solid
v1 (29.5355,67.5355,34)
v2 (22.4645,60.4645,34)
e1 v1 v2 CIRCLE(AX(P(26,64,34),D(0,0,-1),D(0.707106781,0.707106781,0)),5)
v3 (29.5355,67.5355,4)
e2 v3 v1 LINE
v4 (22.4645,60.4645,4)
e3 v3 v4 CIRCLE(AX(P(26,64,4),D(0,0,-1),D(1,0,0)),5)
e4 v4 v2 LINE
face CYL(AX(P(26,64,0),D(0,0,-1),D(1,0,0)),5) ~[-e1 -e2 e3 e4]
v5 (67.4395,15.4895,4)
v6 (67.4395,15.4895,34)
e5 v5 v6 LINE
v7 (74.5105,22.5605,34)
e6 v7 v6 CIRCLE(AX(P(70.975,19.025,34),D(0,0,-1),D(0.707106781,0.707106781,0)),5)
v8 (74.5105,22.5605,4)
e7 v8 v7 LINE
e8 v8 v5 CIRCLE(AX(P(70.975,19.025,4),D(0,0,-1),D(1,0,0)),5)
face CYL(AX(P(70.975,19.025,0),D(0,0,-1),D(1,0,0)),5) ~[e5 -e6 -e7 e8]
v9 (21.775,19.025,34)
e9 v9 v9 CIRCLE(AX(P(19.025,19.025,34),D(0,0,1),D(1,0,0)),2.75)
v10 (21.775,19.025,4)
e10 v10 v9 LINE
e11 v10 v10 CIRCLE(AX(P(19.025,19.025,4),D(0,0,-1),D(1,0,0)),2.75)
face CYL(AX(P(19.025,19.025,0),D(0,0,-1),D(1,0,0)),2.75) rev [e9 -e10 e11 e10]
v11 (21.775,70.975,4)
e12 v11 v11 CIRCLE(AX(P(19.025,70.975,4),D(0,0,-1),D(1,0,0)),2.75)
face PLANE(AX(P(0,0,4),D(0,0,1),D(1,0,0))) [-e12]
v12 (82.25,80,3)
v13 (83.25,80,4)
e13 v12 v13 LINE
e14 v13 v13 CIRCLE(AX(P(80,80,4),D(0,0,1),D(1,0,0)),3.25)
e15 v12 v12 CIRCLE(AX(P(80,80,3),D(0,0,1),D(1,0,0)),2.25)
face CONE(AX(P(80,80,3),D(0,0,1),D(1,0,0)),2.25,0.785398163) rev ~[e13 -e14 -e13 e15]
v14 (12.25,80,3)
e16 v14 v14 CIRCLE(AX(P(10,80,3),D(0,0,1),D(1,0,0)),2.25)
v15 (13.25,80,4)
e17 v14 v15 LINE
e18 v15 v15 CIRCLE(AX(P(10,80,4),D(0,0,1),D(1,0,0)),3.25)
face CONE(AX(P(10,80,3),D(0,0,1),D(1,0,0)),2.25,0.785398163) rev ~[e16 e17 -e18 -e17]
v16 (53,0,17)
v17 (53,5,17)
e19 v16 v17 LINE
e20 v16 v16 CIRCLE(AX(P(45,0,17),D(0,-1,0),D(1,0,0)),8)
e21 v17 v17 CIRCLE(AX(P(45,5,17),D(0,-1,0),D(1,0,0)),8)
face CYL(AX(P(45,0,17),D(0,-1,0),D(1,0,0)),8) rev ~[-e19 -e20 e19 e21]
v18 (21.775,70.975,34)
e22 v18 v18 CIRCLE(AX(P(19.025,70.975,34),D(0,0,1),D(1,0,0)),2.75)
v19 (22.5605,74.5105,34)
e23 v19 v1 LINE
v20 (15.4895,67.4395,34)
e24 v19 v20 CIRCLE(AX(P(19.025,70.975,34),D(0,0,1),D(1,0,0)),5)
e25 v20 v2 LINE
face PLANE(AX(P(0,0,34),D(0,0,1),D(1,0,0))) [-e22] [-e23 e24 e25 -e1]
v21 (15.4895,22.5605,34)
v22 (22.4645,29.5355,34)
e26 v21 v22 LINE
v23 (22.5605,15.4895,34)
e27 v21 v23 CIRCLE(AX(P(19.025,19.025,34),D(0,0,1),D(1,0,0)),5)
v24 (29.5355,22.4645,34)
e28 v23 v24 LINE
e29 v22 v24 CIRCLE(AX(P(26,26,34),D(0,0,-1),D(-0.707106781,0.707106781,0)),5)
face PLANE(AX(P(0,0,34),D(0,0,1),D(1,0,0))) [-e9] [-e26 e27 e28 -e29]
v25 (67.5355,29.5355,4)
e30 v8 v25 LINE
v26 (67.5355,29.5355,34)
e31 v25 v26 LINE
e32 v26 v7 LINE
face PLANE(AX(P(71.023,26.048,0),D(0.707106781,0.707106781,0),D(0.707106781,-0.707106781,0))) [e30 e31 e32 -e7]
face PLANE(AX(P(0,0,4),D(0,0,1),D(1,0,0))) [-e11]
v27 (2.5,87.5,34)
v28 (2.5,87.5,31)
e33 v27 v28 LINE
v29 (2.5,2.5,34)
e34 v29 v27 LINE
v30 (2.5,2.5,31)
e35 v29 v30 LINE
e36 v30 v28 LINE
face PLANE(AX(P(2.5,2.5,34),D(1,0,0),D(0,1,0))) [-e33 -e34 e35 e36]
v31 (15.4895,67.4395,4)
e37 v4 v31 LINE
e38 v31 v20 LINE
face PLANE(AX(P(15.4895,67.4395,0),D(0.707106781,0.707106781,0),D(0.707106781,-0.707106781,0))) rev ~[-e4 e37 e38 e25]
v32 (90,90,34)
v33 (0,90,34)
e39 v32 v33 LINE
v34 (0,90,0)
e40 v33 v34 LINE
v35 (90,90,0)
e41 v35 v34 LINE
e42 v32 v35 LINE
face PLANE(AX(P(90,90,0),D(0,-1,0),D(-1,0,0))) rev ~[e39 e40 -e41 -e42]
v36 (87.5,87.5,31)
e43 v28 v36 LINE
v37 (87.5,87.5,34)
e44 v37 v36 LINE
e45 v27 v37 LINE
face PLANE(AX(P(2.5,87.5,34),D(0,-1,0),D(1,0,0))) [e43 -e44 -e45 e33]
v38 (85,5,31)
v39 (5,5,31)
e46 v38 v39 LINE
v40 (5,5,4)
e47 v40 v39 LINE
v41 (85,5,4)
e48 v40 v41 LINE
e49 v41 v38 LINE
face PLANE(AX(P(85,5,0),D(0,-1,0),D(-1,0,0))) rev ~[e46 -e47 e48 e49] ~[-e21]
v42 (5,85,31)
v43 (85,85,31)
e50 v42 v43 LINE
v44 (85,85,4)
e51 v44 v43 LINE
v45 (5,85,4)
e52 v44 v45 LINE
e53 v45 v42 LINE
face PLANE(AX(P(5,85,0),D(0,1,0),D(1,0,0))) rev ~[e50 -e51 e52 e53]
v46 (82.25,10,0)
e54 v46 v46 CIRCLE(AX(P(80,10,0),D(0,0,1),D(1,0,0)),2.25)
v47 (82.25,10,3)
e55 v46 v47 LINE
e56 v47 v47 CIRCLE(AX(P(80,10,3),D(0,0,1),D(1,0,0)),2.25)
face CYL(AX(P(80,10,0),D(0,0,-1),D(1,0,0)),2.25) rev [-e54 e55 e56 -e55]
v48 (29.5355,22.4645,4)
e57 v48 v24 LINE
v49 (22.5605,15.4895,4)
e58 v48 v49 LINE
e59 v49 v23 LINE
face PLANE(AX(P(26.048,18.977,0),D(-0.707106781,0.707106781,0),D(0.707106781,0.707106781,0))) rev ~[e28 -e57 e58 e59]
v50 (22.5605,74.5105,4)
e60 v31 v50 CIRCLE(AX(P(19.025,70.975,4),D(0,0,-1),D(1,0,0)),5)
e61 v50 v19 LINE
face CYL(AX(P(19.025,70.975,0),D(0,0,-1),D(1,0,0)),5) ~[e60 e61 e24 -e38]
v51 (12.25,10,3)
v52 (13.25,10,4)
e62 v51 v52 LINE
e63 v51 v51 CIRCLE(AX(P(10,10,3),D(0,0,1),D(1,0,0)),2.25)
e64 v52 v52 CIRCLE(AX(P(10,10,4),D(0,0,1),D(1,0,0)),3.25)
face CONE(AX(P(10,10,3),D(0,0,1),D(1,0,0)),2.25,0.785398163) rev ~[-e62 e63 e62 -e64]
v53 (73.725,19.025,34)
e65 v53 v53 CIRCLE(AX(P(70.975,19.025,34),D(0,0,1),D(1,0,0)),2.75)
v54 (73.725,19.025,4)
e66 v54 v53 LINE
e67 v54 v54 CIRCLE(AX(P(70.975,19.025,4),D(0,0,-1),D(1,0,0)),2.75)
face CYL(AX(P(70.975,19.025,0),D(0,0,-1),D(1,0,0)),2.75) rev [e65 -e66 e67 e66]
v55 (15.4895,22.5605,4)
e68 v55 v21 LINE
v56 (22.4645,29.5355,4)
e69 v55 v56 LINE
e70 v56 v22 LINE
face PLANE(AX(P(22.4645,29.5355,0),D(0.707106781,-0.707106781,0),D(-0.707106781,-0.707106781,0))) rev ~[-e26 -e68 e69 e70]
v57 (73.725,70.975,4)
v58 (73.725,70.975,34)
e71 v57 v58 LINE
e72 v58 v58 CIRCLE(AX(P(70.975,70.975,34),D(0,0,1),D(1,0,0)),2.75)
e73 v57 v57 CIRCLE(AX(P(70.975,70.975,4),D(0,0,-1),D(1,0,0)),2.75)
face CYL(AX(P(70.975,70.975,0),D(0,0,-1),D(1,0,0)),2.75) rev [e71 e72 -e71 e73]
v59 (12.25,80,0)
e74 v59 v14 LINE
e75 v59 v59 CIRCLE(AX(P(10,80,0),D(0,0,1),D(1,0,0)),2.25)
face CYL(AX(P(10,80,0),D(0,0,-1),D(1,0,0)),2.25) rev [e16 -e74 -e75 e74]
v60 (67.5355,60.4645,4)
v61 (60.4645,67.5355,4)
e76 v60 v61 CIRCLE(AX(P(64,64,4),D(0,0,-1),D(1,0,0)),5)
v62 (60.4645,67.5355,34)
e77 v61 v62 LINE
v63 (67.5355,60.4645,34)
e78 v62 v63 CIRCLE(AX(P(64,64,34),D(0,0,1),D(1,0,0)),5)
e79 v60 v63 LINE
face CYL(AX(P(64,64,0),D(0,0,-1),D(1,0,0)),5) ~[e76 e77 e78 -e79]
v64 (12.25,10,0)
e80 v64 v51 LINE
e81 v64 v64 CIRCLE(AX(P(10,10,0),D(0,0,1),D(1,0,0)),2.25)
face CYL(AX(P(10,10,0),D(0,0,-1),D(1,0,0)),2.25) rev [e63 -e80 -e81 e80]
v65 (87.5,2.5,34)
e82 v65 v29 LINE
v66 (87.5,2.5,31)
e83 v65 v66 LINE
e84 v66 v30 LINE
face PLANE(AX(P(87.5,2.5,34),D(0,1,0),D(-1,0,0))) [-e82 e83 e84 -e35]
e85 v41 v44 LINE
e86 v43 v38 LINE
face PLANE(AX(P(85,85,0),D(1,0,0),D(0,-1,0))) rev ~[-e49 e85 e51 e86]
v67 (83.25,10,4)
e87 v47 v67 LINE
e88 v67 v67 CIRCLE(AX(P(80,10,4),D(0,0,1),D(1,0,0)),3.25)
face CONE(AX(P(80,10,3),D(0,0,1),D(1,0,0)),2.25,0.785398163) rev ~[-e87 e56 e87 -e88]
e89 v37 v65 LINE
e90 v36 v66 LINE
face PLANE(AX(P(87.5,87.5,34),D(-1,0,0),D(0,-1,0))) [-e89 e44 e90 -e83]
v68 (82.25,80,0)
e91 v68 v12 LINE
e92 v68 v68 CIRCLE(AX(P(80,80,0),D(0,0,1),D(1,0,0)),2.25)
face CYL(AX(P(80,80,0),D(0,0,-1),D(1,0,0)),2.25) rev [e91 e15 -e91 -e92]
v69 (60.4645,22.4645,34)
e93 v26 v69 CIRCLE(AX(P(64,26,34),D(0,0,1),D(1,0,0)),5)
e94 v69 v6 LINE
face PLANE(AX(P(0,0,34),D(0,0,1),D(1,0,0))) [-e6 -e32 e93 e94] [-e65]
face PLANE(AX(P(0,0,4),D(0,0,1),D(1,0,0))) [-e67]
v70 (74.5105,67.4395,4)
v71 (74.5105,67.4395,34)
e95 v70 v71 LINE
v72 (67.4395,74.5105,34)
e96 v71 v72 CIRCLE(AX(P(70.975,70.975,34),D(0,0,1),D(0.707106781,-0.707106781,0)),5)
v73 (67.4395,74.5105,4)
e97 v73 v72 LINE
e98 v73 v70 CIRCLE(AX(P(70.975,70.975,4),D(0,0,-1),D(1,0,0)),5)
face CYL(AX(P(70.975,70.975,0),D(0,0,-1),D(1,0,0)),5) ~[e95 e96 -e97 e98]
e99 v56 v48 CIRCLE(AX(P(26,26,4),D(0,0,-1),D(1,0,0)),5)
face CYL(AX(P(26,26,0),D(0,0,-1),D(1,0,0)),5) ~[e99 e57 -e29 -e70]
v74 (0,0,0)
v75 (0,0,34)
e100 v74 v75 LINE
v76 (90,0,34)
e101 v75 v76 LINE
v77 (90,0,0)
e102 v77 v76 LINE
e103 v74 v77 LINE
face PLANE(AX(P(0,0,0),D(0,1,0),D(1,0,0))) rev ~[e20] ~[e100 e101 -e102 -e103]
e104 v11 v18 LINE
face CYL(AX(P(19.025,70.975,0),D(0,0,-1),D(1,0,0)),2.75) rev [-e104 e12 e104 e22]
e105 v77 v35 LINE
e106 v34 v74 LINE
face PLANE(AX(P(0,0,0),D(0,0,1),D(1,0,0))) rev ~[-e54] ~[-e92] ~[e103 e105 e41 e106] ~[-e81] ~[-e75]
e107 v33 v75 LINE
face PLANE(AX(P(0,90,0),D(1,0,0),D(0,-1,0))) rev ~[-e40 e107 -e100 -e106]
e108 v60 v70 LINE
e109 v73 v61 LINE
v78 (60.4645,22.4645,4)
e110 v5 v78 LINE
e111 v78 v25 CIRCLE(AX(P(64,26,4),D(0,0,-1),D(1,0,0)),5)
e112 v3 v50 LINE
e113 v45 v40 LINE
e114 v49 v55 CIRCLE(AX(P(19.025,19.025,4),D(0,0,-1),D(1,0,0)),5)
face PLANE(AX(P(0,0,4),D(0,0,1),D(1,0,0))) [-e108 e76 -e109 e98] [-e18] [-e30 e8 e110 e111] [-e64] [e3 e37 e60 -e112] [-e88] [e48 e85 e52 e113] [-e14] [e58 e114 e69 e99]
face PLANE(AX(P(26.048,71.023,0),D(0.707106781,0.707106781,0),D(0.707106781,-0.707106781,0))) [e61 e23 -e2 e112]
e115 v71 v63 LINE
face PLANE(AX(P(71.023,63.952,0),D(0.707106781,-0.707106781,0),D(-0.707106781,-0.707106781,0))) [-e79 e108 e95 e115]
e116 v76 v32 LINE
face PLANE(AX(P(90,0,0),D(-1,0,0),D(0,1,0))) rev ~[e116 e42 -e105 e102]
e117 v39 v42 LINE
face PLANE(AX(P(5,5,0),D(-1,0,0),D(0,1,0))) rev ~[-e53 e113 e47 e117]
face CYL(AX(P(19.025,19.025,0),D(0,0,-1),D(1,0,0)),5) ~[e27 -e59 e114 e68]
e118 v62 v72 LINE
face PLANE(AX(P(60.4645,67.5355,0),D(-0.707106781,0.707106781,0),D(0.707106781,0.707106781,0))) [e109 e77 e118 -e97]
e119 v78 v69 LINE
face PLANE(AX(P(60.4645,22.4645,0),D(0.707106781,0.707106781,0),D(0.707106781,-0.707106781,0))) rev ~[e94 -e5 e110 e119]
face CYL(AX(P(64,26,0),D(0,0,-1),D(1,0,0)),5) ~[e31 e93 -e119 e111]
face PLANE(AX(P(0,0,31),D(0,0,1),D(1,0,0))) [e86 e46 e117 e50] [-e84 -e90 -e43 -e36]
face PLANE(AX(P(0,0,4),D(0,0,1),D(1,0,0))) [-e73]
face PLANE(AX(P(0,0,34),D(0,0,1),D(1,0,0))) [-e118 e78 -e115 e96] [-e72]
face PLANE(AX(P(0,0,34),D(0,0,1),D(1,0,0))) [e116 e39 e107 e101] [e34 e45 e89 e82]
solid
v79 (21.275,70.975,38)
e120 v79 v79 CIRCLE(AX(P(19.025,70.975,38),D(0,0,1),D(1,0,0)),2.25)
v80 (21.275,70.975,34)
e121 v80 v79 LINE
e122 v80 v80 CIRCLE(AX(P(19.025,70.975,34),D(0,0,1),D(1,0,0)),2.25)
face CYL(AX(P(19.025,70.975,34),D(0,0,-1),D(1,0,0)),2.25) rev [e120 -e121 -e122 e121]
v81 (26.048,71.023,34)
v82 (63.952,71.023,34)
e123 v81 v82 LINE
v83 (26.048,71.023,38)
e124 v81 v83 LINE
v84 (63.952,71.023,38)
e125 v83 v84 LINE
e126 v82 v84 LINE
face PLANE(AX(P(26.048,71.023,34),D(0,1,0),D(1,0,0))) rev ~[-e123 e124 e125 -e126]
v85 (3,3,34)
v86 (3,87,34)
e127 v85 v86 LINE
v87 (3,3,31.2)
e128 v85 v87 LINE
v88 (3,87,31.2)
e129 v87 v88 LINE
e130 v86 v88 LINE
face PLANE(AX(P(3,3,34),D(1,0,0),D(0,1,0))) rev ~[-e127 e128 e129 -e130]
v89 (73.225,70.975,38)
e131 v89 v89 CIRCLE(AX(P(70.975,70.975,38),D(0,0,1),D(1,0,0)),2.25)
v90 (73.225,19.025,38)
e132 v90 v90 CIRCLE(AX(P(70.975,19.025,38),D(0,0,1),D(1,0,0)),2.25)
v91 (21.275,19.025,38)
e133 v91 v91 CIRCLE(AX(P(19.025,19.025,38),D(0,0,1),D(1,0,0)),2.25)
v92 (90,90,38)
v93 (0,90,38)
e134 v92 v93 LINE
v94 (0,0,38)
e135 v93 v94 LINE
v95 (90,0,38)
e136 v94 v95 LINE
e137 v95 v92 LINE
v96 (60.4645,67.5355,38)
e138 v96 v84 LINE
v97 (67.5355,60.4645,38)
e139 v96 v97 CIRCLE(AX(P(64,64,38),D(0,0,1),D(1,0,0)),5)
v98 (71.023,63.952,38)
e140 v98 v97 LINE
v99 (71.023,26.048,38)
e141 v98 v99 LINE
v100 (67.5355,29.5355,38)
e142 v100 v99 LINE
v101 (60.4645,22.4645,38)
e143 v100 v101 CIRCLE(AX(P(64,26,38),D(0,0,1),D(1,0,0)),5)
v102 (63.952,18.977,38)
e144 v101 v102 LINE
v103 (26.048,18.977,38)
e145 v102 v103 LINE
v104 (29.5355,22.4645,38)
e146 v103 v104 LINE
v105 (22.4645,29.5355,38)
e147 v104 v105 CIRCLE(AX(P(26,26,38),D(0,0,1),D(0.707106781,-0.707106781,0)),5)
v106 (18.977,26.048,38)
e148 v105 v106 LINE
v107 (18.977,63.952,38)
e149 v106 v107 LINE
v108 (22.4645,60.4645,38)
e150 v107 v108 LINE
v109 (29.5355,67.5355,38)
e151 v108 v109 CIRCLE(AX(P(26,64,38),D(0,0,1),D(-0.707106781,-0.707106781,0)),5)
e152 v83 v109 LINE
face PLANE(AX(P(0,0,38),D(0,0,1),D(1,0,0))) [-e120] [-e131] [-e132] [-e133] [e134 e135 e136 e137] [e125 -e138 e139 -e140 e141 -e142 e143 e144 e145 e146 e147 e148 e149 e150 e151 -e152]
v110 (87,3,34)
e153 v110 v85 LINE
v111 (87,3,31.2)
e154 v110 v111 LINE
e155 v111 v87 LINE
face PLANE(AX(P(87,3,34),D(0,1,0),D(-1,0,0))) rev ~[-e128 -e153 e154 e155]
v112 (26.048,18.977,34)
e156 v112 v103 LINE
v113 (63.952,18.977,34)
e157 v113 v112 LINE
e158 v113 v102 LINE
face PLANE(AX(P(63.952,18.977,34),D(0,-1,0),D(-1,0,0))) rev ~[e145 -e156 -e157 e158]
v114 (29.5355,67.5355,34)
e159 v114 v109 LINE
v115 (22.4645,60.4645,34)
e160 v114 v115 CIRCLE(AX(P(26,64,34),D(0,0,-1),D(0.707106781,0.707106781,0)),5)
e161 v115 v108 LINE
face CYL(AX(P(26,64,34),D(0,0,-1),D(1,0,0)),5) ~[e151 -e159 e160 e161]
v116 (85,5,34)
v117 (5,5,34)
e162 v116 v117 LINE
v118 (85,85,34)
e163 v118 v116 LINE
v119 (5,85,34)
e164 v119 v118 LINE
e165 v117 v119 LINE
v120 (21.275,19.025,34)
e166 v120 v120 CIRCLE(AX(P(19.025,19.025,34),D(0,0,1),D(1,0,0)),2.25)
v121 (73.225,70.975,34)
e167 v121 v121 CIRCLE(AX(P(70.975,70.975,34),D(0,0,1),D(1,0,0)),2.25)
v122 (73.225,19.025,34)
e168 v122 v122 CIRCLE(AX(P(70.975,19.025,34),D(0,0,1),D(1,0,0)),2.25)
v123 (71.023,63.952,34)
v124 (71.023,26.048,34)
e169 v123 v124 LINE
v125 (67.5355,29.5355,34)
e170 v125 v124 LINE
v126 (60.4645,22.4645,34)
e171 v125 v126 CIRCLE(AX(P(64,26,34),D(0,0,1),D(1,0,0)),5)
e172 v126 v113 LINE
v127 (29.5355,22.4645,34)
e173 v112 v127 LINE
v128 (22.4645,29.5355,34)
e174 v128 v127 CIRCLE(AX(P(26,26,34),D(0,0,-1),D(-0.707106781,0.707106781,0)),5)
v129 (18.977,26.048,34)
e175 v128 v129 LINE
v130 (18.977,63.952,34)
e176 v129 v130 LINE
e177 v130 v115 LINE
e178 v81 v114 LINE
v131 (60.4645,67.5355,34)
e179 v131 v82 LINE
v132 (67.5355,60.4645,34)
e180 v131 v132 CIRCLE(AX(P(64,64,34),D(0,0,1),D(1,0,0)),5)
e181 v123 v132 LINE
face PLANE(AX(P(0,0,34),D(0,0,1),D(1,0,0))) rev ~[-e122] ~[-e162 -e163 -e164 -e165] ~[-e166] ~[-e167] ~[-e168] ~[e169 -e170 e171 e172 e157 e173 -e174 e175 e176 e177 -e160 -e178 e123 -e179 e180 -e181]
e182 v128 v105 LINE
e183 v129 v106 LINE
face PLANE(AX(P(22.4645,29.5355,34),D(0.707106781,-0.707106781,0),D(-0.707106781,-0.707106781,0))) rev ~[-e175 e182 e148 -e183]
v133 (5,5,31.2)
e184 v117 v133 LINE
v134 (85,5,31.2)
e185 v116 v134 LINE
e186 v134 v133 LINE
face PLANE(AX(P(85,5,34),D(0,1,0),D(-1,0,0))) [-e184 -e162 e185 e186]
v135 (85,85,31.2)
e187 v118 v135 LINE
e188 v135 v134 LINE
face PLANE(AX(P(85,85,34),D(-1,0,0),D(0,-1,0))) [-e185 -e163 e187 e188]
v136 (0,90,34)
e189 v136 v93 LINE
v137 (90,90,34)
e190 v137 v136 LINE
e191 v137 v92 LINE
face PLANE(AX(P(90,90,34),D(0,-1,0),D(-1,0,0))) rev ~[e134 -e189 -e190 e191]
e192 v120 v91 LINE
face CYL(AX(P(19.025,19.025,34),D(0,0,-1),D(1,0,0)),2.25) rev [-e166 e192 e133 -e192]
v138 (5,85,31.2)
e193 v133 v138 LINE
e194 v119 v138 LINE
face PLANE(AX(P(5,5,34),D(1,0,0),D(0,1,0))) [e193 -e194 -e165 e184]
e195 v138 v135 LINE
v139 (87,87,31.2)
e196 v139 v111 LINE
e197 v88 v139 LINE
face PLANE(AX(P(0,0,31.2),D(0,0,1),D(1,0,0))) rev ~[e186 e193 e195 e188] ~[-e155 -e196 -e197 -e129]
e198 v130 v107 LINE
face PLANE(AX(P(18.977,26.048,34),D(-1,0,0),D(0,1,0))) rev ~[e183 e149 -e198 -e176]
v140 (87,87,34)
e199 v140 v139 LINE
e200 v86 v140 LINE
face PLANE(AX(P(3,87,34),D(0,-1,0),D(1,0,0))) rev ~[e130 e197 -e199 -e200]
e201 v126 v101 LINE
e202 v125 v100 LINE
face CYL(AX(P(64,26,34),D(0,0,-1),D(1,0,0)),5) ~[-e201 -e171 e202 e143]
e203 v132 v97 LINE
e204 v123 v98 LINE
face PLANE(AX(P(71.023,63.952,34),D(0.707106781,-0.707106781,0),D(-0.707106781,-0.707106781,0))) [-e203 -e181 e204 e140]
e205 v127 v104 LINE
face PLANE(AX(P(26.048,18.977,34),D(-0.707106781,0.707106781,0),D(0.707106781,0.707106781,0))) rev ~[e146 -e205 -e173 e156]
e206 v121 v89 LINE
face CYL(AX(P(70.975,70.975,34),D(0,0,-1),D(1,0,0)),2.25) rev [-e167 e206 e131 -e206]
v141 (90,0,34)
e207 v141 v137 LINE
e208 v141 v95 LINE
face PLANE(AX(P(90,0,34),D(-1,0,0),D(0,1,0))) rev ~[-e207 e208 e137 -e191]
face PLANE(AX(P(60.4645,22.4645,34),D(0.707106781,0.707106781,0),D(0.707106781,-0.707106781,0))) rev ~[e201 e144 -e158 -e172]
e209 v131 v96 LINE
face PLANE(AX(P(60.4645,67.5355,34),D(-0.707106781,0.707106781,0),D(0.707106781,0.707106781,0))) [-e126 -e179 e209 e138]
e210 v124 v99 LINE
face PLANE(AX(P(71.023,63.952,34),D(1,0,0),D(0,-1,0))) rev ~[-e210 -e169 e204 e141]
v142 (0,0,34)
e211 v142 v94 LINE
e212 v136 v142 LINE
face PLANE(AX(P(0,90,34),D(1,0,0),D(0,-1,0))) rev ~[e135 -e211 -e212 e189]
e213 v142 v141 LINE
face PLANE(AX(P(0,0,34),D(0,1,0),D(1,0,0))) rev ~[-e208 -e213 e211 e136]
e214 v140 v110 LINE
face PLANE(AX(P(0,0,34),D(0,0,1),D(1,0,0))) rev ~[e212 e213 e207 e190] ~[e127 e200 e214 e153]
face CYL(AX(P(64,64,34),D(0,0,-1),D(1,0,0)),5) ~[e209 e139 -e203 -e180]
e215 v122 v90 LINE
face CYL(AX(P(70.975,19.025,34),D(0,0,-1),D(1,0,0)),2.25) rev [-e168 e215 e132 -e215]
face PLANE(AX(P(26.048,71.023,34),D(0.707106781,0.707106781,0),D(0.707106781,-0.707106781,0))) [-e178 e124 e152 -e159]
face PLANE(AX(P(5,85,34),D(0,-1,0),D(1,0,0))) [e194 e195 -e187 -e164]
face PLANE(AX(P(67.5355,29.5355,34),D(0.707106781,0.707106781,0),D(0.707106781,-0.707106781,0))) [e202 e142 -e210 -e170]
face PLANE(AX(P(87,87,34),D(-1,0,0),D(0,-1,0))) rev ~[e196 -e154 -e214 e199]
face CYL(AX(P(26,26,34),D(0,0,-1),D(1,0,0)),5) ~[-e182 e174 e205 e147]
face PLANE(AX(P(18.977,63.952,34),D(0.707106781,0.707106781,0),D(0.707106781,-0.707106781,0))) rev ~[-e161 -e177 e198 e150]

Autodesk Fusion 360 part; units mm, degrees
sketch "Sketch1" plane through (0, 0, 0) normal (0, 0, 1) x (1, 0, 0)
  line L0 (0, 0) -> (90, 0)
  line L1 (90, 0) -> (90, 90)
  line L2 (90, 90) -> (0, 90)
  line L3 (0, 90) -> (0, 0)
  line L4 (10, 10) -> (80, 10) construction
  line L5 (80, 10) -> (80, 80) construction
  line L6 (80, 80) -> (10, 80) construction
  line L7 (10, 80) -> (10, 10) construction
  line L8 (45, 80) -> (45, 90) construction
  line L9 (80, 45) -> (90, 45) construction
  line L10 (19.025, 70.975) -> (70.975, 70.975) construction
  line L11 (70.975, 70.975) -> (70.975, 19.025) construction
  line L12 (70.975, 19.025) -> (19.025, 19.025) construction
  line L13 (19.025, 19.025) -> (19.025, 70.975) construction
  line L14 (45, 70.975) -> (45, 80) construction
  line L15 (70.975, 45) -> (80, 45) construction
  circle A0 centre (70.975, 70.975) radius 2.75
  circle A1 centre (70.975, 19.025) radius 2.75
  circle A2 centre (19.025, 19.025) radius 2.75
  circle A3 centre (19.025, 70.975) radius 2.75
  line L16 (26, 64) -> (64, 64) construction
  line L17 (64, 64) -> (64, 26) construction
  line L18 (64, 26) -> (26, 26) construction
  line L19 (26, 26) -> (26, 64) construction
  line L20 (45, 64) -> (45, 70.975) construction
  line L21 (64, 45) -> (70.975, 45) construction
  circle A4 centre (64, 64) radius 5
  circle A5 centre (64, 26) radius 5
  circle A6 centre (26, 26) radius 5
  circle A7 centre (26, 64) radius 5
  circle A8 centre (19.025, 70.975) radius 5
  circle A9 centre (70.975, 70.975) radius 5
  circle A10 centre (70.975, 19.025) radius 5
  circle A11 centre (19.025, 19.025) radius 5
  line L22 (60.4645, 67.5355) -> (67.4395, 74.5105)
  line L23 (74.5105, 67.4395) -> (67.5355, 60.4645)
  line L24 (67.5355, 29.5355) -> (74.5105, 22.5605)
  line L25 (60.4645, 22.4645) -> (67.4395, 15.4895)
  line L26 (22.5605, 15.4895) -> (29.5355, 22.4645)
  line L27 (22.4645, 29.5355) -> (15.4895, 22.5605)
  line L28 (22.5605, 74.5105) -> (29.5355, 67.5355)
  line L29 (15.4895, 67.4395) -> (22.4645, 60.4645)
  line L30 (5, 85) -> (85, 85)
  line L31 (85, 85) -> (85, 5)
  line L32 (85, 5) -> (5, 5)
  line L33 (5, 5) -> (5, 85)
  line L34 (45, 85) -> (45, 90) construction
  line L35 (85, 45) -> (90, 45) construction
  line L36 (18.977, 26.048) -> (18.977, 63.952)
  line L37 (26.048, 71.023) -> (63.952, 71.023)
  line L38 (71.023, 63.952) -> (71.023, 26.048)
  line L39 (63.952, 18.977) -> (26.048, 18.977)
  line L40 (3, 87) -> (87, 87)
  line L41 (87, 87) -> (87, 3)
  line L42 (87, 3) -> (3, 3)
  line L43 (3, 3) -> (3, 87)
  line L44 (2.5, 87.5) -> (87.5, 87.5)
  line L45 (87.5, 87.5) -> (87.5, 2.5)
  line L46 (87.5, 2.5) -> (2.5, 2.5)
  line L47 (2.5, 2.5) -> (2.5, 87.5)
  circle A12 centre (10, 80) radius 2.25
  circle A13 centre (80, 80) radius 2.25
  circle A14 centre (10, 10) radius 2.25
  circle A15 centre (80, 10) radius 2.25
  circle A16 centre (19.025, 70.975) radius 2.25
  circle A17 centre (70.975, 70.975) radius 2.25
  circle A18 centre (70.975, 19.025) radius 2.25
  circle A19 centre (19.025, 19.025) radius 2.25
  point P0 (45, 87)
  point P1 (45, 87.5)
  point P2 (87.5, 45)
  point P3 (87, 45)
  dimension "d1" = 70
  dimension "d2" = 90
  dimension "d3" = 51.95
  dimension "d4" = 5.5
  dimension "d5" = 10
  dimension "d6" = 38
  dimension "d7" = 10
  dimension "d8" = 5
  dimension "d19" = 2
  dimension "d20" = 0.5
  dimension "d29" = 4.5
  dimension "d31" = 4.5
extrude "Extrude1" add sketch "Sketch1" along normal blind 4 contours L0 L1 L2 L3 | A0 | A1 | A2 | A3 | A4 A9 | A4 A9 L22 | A4 A5 A6 A7 L22 L23 L24 L25 L26 L27 L28 L29 L36 L37 L38 L39 | A4 A9 L23 | A4 A9 | A4 A9 | A7 A8 L28 | A5 A10 L24 | A7 A8 | A7 A8 | A5 A10 | A5 A10 | A7 A8 L29 | A7 A8 | A5 A10 L25 | A5 A10 | A6 A11 L27 | A6 A11 L26 | A6 A11 | A6 A11 | A6 A11 | L30 L31 L32 L33 | L40 L41 L42 L43 | L44 L45 L46 L47 | A16 | A17 | A18 | A19 makes body 1
extrude "Extrude2" add sketch "Sketch1" along normal blind 34 contours L0 L1 L2 L3 | A4 A9 | A4 A9 L22 | A4 A9 L23 | A4 A9 | A4 A9 | A7 A8 L28 | A5 A10 L24 | A7 A8 | A7 A8 | A5 A10 | A5 A10 | A7 A8 L29 | A7 A8 | A5 A10 L25 | A5 A10 | A6 A11 L27 | A6 A11 L26 | A6 A11 | A6 A11 | A6 A11 | L40 L41 L42 L43 | L44 L45 L46 L47 bodies 1
extrude "Extrude3" add sketch "Sketch1" along normal blind 4 from surface at 34 separate body contours L0 L1 L2 L3 | A0 | A1 | A2 | A3 | A4 A9 | A4 A9 L22 | A4 A9 L23 | A4 A9 | A4 A9 | A7 A8 L28 | A5 A10 L24 | A7 A8 | A7 A8 | A5 A10 | A5 A10 | A7 A8 L29 | A7 A8 | A5 A10 L25 | A5 A10 | A6 A11 L27 | A6 A11 L26 | A6 A11 | A6 A11 | A6 A11 | L30 L31 L32 L33 | L40 L41 L42 L43 | L44 L45 L46 L47 | A12 | A13 | A14 | A15 makes body 2
sketch "Sketch2" plane through (0, 0, 0) normal (0, -1, 0) x (1, 0, 0)
  line L0 (0, 0) -> (90, 0)
  line L1 (90, 0) -> (90, 34)
  line L2 (90, 34) -> (0, 34)
  line L3 (0, 34) -> (0, 0)
  line L4 (45, 34) -> (45, 0) construction
  line L5 (0, 17) -> (90, 17) construction
  circle A0 centre (45, 17) radius 8
  dimension "d16" = 16
extrude "Extrude4" cut sketch "Sketch2" against normal blind 9 contours A0 bodies 1
extrude "Extrude5" cut sketch "Sketch1" against normal blind 3 from surface at 34 contours L40 L41 L42 L43 | L44 L45 L46 L47 bodies 1
extrude "Extrude6" add sketch "Sketch1" against normal blind 2.8 from surface at 34 contours L40 L41 L42 L43 bodies 2
chamfer "Chamfer1" distance 1 angle 45 4 edges at (7.9023, 80.8136, 4) (77.9023, 80.8136, 4) (77.9023, 10.8136, 4) (7.9023, 10.8136, 4) on bodies 1
equation "d3 = ( ( 57.7 + 46.2 ) / 2 ) * 1 mm"
